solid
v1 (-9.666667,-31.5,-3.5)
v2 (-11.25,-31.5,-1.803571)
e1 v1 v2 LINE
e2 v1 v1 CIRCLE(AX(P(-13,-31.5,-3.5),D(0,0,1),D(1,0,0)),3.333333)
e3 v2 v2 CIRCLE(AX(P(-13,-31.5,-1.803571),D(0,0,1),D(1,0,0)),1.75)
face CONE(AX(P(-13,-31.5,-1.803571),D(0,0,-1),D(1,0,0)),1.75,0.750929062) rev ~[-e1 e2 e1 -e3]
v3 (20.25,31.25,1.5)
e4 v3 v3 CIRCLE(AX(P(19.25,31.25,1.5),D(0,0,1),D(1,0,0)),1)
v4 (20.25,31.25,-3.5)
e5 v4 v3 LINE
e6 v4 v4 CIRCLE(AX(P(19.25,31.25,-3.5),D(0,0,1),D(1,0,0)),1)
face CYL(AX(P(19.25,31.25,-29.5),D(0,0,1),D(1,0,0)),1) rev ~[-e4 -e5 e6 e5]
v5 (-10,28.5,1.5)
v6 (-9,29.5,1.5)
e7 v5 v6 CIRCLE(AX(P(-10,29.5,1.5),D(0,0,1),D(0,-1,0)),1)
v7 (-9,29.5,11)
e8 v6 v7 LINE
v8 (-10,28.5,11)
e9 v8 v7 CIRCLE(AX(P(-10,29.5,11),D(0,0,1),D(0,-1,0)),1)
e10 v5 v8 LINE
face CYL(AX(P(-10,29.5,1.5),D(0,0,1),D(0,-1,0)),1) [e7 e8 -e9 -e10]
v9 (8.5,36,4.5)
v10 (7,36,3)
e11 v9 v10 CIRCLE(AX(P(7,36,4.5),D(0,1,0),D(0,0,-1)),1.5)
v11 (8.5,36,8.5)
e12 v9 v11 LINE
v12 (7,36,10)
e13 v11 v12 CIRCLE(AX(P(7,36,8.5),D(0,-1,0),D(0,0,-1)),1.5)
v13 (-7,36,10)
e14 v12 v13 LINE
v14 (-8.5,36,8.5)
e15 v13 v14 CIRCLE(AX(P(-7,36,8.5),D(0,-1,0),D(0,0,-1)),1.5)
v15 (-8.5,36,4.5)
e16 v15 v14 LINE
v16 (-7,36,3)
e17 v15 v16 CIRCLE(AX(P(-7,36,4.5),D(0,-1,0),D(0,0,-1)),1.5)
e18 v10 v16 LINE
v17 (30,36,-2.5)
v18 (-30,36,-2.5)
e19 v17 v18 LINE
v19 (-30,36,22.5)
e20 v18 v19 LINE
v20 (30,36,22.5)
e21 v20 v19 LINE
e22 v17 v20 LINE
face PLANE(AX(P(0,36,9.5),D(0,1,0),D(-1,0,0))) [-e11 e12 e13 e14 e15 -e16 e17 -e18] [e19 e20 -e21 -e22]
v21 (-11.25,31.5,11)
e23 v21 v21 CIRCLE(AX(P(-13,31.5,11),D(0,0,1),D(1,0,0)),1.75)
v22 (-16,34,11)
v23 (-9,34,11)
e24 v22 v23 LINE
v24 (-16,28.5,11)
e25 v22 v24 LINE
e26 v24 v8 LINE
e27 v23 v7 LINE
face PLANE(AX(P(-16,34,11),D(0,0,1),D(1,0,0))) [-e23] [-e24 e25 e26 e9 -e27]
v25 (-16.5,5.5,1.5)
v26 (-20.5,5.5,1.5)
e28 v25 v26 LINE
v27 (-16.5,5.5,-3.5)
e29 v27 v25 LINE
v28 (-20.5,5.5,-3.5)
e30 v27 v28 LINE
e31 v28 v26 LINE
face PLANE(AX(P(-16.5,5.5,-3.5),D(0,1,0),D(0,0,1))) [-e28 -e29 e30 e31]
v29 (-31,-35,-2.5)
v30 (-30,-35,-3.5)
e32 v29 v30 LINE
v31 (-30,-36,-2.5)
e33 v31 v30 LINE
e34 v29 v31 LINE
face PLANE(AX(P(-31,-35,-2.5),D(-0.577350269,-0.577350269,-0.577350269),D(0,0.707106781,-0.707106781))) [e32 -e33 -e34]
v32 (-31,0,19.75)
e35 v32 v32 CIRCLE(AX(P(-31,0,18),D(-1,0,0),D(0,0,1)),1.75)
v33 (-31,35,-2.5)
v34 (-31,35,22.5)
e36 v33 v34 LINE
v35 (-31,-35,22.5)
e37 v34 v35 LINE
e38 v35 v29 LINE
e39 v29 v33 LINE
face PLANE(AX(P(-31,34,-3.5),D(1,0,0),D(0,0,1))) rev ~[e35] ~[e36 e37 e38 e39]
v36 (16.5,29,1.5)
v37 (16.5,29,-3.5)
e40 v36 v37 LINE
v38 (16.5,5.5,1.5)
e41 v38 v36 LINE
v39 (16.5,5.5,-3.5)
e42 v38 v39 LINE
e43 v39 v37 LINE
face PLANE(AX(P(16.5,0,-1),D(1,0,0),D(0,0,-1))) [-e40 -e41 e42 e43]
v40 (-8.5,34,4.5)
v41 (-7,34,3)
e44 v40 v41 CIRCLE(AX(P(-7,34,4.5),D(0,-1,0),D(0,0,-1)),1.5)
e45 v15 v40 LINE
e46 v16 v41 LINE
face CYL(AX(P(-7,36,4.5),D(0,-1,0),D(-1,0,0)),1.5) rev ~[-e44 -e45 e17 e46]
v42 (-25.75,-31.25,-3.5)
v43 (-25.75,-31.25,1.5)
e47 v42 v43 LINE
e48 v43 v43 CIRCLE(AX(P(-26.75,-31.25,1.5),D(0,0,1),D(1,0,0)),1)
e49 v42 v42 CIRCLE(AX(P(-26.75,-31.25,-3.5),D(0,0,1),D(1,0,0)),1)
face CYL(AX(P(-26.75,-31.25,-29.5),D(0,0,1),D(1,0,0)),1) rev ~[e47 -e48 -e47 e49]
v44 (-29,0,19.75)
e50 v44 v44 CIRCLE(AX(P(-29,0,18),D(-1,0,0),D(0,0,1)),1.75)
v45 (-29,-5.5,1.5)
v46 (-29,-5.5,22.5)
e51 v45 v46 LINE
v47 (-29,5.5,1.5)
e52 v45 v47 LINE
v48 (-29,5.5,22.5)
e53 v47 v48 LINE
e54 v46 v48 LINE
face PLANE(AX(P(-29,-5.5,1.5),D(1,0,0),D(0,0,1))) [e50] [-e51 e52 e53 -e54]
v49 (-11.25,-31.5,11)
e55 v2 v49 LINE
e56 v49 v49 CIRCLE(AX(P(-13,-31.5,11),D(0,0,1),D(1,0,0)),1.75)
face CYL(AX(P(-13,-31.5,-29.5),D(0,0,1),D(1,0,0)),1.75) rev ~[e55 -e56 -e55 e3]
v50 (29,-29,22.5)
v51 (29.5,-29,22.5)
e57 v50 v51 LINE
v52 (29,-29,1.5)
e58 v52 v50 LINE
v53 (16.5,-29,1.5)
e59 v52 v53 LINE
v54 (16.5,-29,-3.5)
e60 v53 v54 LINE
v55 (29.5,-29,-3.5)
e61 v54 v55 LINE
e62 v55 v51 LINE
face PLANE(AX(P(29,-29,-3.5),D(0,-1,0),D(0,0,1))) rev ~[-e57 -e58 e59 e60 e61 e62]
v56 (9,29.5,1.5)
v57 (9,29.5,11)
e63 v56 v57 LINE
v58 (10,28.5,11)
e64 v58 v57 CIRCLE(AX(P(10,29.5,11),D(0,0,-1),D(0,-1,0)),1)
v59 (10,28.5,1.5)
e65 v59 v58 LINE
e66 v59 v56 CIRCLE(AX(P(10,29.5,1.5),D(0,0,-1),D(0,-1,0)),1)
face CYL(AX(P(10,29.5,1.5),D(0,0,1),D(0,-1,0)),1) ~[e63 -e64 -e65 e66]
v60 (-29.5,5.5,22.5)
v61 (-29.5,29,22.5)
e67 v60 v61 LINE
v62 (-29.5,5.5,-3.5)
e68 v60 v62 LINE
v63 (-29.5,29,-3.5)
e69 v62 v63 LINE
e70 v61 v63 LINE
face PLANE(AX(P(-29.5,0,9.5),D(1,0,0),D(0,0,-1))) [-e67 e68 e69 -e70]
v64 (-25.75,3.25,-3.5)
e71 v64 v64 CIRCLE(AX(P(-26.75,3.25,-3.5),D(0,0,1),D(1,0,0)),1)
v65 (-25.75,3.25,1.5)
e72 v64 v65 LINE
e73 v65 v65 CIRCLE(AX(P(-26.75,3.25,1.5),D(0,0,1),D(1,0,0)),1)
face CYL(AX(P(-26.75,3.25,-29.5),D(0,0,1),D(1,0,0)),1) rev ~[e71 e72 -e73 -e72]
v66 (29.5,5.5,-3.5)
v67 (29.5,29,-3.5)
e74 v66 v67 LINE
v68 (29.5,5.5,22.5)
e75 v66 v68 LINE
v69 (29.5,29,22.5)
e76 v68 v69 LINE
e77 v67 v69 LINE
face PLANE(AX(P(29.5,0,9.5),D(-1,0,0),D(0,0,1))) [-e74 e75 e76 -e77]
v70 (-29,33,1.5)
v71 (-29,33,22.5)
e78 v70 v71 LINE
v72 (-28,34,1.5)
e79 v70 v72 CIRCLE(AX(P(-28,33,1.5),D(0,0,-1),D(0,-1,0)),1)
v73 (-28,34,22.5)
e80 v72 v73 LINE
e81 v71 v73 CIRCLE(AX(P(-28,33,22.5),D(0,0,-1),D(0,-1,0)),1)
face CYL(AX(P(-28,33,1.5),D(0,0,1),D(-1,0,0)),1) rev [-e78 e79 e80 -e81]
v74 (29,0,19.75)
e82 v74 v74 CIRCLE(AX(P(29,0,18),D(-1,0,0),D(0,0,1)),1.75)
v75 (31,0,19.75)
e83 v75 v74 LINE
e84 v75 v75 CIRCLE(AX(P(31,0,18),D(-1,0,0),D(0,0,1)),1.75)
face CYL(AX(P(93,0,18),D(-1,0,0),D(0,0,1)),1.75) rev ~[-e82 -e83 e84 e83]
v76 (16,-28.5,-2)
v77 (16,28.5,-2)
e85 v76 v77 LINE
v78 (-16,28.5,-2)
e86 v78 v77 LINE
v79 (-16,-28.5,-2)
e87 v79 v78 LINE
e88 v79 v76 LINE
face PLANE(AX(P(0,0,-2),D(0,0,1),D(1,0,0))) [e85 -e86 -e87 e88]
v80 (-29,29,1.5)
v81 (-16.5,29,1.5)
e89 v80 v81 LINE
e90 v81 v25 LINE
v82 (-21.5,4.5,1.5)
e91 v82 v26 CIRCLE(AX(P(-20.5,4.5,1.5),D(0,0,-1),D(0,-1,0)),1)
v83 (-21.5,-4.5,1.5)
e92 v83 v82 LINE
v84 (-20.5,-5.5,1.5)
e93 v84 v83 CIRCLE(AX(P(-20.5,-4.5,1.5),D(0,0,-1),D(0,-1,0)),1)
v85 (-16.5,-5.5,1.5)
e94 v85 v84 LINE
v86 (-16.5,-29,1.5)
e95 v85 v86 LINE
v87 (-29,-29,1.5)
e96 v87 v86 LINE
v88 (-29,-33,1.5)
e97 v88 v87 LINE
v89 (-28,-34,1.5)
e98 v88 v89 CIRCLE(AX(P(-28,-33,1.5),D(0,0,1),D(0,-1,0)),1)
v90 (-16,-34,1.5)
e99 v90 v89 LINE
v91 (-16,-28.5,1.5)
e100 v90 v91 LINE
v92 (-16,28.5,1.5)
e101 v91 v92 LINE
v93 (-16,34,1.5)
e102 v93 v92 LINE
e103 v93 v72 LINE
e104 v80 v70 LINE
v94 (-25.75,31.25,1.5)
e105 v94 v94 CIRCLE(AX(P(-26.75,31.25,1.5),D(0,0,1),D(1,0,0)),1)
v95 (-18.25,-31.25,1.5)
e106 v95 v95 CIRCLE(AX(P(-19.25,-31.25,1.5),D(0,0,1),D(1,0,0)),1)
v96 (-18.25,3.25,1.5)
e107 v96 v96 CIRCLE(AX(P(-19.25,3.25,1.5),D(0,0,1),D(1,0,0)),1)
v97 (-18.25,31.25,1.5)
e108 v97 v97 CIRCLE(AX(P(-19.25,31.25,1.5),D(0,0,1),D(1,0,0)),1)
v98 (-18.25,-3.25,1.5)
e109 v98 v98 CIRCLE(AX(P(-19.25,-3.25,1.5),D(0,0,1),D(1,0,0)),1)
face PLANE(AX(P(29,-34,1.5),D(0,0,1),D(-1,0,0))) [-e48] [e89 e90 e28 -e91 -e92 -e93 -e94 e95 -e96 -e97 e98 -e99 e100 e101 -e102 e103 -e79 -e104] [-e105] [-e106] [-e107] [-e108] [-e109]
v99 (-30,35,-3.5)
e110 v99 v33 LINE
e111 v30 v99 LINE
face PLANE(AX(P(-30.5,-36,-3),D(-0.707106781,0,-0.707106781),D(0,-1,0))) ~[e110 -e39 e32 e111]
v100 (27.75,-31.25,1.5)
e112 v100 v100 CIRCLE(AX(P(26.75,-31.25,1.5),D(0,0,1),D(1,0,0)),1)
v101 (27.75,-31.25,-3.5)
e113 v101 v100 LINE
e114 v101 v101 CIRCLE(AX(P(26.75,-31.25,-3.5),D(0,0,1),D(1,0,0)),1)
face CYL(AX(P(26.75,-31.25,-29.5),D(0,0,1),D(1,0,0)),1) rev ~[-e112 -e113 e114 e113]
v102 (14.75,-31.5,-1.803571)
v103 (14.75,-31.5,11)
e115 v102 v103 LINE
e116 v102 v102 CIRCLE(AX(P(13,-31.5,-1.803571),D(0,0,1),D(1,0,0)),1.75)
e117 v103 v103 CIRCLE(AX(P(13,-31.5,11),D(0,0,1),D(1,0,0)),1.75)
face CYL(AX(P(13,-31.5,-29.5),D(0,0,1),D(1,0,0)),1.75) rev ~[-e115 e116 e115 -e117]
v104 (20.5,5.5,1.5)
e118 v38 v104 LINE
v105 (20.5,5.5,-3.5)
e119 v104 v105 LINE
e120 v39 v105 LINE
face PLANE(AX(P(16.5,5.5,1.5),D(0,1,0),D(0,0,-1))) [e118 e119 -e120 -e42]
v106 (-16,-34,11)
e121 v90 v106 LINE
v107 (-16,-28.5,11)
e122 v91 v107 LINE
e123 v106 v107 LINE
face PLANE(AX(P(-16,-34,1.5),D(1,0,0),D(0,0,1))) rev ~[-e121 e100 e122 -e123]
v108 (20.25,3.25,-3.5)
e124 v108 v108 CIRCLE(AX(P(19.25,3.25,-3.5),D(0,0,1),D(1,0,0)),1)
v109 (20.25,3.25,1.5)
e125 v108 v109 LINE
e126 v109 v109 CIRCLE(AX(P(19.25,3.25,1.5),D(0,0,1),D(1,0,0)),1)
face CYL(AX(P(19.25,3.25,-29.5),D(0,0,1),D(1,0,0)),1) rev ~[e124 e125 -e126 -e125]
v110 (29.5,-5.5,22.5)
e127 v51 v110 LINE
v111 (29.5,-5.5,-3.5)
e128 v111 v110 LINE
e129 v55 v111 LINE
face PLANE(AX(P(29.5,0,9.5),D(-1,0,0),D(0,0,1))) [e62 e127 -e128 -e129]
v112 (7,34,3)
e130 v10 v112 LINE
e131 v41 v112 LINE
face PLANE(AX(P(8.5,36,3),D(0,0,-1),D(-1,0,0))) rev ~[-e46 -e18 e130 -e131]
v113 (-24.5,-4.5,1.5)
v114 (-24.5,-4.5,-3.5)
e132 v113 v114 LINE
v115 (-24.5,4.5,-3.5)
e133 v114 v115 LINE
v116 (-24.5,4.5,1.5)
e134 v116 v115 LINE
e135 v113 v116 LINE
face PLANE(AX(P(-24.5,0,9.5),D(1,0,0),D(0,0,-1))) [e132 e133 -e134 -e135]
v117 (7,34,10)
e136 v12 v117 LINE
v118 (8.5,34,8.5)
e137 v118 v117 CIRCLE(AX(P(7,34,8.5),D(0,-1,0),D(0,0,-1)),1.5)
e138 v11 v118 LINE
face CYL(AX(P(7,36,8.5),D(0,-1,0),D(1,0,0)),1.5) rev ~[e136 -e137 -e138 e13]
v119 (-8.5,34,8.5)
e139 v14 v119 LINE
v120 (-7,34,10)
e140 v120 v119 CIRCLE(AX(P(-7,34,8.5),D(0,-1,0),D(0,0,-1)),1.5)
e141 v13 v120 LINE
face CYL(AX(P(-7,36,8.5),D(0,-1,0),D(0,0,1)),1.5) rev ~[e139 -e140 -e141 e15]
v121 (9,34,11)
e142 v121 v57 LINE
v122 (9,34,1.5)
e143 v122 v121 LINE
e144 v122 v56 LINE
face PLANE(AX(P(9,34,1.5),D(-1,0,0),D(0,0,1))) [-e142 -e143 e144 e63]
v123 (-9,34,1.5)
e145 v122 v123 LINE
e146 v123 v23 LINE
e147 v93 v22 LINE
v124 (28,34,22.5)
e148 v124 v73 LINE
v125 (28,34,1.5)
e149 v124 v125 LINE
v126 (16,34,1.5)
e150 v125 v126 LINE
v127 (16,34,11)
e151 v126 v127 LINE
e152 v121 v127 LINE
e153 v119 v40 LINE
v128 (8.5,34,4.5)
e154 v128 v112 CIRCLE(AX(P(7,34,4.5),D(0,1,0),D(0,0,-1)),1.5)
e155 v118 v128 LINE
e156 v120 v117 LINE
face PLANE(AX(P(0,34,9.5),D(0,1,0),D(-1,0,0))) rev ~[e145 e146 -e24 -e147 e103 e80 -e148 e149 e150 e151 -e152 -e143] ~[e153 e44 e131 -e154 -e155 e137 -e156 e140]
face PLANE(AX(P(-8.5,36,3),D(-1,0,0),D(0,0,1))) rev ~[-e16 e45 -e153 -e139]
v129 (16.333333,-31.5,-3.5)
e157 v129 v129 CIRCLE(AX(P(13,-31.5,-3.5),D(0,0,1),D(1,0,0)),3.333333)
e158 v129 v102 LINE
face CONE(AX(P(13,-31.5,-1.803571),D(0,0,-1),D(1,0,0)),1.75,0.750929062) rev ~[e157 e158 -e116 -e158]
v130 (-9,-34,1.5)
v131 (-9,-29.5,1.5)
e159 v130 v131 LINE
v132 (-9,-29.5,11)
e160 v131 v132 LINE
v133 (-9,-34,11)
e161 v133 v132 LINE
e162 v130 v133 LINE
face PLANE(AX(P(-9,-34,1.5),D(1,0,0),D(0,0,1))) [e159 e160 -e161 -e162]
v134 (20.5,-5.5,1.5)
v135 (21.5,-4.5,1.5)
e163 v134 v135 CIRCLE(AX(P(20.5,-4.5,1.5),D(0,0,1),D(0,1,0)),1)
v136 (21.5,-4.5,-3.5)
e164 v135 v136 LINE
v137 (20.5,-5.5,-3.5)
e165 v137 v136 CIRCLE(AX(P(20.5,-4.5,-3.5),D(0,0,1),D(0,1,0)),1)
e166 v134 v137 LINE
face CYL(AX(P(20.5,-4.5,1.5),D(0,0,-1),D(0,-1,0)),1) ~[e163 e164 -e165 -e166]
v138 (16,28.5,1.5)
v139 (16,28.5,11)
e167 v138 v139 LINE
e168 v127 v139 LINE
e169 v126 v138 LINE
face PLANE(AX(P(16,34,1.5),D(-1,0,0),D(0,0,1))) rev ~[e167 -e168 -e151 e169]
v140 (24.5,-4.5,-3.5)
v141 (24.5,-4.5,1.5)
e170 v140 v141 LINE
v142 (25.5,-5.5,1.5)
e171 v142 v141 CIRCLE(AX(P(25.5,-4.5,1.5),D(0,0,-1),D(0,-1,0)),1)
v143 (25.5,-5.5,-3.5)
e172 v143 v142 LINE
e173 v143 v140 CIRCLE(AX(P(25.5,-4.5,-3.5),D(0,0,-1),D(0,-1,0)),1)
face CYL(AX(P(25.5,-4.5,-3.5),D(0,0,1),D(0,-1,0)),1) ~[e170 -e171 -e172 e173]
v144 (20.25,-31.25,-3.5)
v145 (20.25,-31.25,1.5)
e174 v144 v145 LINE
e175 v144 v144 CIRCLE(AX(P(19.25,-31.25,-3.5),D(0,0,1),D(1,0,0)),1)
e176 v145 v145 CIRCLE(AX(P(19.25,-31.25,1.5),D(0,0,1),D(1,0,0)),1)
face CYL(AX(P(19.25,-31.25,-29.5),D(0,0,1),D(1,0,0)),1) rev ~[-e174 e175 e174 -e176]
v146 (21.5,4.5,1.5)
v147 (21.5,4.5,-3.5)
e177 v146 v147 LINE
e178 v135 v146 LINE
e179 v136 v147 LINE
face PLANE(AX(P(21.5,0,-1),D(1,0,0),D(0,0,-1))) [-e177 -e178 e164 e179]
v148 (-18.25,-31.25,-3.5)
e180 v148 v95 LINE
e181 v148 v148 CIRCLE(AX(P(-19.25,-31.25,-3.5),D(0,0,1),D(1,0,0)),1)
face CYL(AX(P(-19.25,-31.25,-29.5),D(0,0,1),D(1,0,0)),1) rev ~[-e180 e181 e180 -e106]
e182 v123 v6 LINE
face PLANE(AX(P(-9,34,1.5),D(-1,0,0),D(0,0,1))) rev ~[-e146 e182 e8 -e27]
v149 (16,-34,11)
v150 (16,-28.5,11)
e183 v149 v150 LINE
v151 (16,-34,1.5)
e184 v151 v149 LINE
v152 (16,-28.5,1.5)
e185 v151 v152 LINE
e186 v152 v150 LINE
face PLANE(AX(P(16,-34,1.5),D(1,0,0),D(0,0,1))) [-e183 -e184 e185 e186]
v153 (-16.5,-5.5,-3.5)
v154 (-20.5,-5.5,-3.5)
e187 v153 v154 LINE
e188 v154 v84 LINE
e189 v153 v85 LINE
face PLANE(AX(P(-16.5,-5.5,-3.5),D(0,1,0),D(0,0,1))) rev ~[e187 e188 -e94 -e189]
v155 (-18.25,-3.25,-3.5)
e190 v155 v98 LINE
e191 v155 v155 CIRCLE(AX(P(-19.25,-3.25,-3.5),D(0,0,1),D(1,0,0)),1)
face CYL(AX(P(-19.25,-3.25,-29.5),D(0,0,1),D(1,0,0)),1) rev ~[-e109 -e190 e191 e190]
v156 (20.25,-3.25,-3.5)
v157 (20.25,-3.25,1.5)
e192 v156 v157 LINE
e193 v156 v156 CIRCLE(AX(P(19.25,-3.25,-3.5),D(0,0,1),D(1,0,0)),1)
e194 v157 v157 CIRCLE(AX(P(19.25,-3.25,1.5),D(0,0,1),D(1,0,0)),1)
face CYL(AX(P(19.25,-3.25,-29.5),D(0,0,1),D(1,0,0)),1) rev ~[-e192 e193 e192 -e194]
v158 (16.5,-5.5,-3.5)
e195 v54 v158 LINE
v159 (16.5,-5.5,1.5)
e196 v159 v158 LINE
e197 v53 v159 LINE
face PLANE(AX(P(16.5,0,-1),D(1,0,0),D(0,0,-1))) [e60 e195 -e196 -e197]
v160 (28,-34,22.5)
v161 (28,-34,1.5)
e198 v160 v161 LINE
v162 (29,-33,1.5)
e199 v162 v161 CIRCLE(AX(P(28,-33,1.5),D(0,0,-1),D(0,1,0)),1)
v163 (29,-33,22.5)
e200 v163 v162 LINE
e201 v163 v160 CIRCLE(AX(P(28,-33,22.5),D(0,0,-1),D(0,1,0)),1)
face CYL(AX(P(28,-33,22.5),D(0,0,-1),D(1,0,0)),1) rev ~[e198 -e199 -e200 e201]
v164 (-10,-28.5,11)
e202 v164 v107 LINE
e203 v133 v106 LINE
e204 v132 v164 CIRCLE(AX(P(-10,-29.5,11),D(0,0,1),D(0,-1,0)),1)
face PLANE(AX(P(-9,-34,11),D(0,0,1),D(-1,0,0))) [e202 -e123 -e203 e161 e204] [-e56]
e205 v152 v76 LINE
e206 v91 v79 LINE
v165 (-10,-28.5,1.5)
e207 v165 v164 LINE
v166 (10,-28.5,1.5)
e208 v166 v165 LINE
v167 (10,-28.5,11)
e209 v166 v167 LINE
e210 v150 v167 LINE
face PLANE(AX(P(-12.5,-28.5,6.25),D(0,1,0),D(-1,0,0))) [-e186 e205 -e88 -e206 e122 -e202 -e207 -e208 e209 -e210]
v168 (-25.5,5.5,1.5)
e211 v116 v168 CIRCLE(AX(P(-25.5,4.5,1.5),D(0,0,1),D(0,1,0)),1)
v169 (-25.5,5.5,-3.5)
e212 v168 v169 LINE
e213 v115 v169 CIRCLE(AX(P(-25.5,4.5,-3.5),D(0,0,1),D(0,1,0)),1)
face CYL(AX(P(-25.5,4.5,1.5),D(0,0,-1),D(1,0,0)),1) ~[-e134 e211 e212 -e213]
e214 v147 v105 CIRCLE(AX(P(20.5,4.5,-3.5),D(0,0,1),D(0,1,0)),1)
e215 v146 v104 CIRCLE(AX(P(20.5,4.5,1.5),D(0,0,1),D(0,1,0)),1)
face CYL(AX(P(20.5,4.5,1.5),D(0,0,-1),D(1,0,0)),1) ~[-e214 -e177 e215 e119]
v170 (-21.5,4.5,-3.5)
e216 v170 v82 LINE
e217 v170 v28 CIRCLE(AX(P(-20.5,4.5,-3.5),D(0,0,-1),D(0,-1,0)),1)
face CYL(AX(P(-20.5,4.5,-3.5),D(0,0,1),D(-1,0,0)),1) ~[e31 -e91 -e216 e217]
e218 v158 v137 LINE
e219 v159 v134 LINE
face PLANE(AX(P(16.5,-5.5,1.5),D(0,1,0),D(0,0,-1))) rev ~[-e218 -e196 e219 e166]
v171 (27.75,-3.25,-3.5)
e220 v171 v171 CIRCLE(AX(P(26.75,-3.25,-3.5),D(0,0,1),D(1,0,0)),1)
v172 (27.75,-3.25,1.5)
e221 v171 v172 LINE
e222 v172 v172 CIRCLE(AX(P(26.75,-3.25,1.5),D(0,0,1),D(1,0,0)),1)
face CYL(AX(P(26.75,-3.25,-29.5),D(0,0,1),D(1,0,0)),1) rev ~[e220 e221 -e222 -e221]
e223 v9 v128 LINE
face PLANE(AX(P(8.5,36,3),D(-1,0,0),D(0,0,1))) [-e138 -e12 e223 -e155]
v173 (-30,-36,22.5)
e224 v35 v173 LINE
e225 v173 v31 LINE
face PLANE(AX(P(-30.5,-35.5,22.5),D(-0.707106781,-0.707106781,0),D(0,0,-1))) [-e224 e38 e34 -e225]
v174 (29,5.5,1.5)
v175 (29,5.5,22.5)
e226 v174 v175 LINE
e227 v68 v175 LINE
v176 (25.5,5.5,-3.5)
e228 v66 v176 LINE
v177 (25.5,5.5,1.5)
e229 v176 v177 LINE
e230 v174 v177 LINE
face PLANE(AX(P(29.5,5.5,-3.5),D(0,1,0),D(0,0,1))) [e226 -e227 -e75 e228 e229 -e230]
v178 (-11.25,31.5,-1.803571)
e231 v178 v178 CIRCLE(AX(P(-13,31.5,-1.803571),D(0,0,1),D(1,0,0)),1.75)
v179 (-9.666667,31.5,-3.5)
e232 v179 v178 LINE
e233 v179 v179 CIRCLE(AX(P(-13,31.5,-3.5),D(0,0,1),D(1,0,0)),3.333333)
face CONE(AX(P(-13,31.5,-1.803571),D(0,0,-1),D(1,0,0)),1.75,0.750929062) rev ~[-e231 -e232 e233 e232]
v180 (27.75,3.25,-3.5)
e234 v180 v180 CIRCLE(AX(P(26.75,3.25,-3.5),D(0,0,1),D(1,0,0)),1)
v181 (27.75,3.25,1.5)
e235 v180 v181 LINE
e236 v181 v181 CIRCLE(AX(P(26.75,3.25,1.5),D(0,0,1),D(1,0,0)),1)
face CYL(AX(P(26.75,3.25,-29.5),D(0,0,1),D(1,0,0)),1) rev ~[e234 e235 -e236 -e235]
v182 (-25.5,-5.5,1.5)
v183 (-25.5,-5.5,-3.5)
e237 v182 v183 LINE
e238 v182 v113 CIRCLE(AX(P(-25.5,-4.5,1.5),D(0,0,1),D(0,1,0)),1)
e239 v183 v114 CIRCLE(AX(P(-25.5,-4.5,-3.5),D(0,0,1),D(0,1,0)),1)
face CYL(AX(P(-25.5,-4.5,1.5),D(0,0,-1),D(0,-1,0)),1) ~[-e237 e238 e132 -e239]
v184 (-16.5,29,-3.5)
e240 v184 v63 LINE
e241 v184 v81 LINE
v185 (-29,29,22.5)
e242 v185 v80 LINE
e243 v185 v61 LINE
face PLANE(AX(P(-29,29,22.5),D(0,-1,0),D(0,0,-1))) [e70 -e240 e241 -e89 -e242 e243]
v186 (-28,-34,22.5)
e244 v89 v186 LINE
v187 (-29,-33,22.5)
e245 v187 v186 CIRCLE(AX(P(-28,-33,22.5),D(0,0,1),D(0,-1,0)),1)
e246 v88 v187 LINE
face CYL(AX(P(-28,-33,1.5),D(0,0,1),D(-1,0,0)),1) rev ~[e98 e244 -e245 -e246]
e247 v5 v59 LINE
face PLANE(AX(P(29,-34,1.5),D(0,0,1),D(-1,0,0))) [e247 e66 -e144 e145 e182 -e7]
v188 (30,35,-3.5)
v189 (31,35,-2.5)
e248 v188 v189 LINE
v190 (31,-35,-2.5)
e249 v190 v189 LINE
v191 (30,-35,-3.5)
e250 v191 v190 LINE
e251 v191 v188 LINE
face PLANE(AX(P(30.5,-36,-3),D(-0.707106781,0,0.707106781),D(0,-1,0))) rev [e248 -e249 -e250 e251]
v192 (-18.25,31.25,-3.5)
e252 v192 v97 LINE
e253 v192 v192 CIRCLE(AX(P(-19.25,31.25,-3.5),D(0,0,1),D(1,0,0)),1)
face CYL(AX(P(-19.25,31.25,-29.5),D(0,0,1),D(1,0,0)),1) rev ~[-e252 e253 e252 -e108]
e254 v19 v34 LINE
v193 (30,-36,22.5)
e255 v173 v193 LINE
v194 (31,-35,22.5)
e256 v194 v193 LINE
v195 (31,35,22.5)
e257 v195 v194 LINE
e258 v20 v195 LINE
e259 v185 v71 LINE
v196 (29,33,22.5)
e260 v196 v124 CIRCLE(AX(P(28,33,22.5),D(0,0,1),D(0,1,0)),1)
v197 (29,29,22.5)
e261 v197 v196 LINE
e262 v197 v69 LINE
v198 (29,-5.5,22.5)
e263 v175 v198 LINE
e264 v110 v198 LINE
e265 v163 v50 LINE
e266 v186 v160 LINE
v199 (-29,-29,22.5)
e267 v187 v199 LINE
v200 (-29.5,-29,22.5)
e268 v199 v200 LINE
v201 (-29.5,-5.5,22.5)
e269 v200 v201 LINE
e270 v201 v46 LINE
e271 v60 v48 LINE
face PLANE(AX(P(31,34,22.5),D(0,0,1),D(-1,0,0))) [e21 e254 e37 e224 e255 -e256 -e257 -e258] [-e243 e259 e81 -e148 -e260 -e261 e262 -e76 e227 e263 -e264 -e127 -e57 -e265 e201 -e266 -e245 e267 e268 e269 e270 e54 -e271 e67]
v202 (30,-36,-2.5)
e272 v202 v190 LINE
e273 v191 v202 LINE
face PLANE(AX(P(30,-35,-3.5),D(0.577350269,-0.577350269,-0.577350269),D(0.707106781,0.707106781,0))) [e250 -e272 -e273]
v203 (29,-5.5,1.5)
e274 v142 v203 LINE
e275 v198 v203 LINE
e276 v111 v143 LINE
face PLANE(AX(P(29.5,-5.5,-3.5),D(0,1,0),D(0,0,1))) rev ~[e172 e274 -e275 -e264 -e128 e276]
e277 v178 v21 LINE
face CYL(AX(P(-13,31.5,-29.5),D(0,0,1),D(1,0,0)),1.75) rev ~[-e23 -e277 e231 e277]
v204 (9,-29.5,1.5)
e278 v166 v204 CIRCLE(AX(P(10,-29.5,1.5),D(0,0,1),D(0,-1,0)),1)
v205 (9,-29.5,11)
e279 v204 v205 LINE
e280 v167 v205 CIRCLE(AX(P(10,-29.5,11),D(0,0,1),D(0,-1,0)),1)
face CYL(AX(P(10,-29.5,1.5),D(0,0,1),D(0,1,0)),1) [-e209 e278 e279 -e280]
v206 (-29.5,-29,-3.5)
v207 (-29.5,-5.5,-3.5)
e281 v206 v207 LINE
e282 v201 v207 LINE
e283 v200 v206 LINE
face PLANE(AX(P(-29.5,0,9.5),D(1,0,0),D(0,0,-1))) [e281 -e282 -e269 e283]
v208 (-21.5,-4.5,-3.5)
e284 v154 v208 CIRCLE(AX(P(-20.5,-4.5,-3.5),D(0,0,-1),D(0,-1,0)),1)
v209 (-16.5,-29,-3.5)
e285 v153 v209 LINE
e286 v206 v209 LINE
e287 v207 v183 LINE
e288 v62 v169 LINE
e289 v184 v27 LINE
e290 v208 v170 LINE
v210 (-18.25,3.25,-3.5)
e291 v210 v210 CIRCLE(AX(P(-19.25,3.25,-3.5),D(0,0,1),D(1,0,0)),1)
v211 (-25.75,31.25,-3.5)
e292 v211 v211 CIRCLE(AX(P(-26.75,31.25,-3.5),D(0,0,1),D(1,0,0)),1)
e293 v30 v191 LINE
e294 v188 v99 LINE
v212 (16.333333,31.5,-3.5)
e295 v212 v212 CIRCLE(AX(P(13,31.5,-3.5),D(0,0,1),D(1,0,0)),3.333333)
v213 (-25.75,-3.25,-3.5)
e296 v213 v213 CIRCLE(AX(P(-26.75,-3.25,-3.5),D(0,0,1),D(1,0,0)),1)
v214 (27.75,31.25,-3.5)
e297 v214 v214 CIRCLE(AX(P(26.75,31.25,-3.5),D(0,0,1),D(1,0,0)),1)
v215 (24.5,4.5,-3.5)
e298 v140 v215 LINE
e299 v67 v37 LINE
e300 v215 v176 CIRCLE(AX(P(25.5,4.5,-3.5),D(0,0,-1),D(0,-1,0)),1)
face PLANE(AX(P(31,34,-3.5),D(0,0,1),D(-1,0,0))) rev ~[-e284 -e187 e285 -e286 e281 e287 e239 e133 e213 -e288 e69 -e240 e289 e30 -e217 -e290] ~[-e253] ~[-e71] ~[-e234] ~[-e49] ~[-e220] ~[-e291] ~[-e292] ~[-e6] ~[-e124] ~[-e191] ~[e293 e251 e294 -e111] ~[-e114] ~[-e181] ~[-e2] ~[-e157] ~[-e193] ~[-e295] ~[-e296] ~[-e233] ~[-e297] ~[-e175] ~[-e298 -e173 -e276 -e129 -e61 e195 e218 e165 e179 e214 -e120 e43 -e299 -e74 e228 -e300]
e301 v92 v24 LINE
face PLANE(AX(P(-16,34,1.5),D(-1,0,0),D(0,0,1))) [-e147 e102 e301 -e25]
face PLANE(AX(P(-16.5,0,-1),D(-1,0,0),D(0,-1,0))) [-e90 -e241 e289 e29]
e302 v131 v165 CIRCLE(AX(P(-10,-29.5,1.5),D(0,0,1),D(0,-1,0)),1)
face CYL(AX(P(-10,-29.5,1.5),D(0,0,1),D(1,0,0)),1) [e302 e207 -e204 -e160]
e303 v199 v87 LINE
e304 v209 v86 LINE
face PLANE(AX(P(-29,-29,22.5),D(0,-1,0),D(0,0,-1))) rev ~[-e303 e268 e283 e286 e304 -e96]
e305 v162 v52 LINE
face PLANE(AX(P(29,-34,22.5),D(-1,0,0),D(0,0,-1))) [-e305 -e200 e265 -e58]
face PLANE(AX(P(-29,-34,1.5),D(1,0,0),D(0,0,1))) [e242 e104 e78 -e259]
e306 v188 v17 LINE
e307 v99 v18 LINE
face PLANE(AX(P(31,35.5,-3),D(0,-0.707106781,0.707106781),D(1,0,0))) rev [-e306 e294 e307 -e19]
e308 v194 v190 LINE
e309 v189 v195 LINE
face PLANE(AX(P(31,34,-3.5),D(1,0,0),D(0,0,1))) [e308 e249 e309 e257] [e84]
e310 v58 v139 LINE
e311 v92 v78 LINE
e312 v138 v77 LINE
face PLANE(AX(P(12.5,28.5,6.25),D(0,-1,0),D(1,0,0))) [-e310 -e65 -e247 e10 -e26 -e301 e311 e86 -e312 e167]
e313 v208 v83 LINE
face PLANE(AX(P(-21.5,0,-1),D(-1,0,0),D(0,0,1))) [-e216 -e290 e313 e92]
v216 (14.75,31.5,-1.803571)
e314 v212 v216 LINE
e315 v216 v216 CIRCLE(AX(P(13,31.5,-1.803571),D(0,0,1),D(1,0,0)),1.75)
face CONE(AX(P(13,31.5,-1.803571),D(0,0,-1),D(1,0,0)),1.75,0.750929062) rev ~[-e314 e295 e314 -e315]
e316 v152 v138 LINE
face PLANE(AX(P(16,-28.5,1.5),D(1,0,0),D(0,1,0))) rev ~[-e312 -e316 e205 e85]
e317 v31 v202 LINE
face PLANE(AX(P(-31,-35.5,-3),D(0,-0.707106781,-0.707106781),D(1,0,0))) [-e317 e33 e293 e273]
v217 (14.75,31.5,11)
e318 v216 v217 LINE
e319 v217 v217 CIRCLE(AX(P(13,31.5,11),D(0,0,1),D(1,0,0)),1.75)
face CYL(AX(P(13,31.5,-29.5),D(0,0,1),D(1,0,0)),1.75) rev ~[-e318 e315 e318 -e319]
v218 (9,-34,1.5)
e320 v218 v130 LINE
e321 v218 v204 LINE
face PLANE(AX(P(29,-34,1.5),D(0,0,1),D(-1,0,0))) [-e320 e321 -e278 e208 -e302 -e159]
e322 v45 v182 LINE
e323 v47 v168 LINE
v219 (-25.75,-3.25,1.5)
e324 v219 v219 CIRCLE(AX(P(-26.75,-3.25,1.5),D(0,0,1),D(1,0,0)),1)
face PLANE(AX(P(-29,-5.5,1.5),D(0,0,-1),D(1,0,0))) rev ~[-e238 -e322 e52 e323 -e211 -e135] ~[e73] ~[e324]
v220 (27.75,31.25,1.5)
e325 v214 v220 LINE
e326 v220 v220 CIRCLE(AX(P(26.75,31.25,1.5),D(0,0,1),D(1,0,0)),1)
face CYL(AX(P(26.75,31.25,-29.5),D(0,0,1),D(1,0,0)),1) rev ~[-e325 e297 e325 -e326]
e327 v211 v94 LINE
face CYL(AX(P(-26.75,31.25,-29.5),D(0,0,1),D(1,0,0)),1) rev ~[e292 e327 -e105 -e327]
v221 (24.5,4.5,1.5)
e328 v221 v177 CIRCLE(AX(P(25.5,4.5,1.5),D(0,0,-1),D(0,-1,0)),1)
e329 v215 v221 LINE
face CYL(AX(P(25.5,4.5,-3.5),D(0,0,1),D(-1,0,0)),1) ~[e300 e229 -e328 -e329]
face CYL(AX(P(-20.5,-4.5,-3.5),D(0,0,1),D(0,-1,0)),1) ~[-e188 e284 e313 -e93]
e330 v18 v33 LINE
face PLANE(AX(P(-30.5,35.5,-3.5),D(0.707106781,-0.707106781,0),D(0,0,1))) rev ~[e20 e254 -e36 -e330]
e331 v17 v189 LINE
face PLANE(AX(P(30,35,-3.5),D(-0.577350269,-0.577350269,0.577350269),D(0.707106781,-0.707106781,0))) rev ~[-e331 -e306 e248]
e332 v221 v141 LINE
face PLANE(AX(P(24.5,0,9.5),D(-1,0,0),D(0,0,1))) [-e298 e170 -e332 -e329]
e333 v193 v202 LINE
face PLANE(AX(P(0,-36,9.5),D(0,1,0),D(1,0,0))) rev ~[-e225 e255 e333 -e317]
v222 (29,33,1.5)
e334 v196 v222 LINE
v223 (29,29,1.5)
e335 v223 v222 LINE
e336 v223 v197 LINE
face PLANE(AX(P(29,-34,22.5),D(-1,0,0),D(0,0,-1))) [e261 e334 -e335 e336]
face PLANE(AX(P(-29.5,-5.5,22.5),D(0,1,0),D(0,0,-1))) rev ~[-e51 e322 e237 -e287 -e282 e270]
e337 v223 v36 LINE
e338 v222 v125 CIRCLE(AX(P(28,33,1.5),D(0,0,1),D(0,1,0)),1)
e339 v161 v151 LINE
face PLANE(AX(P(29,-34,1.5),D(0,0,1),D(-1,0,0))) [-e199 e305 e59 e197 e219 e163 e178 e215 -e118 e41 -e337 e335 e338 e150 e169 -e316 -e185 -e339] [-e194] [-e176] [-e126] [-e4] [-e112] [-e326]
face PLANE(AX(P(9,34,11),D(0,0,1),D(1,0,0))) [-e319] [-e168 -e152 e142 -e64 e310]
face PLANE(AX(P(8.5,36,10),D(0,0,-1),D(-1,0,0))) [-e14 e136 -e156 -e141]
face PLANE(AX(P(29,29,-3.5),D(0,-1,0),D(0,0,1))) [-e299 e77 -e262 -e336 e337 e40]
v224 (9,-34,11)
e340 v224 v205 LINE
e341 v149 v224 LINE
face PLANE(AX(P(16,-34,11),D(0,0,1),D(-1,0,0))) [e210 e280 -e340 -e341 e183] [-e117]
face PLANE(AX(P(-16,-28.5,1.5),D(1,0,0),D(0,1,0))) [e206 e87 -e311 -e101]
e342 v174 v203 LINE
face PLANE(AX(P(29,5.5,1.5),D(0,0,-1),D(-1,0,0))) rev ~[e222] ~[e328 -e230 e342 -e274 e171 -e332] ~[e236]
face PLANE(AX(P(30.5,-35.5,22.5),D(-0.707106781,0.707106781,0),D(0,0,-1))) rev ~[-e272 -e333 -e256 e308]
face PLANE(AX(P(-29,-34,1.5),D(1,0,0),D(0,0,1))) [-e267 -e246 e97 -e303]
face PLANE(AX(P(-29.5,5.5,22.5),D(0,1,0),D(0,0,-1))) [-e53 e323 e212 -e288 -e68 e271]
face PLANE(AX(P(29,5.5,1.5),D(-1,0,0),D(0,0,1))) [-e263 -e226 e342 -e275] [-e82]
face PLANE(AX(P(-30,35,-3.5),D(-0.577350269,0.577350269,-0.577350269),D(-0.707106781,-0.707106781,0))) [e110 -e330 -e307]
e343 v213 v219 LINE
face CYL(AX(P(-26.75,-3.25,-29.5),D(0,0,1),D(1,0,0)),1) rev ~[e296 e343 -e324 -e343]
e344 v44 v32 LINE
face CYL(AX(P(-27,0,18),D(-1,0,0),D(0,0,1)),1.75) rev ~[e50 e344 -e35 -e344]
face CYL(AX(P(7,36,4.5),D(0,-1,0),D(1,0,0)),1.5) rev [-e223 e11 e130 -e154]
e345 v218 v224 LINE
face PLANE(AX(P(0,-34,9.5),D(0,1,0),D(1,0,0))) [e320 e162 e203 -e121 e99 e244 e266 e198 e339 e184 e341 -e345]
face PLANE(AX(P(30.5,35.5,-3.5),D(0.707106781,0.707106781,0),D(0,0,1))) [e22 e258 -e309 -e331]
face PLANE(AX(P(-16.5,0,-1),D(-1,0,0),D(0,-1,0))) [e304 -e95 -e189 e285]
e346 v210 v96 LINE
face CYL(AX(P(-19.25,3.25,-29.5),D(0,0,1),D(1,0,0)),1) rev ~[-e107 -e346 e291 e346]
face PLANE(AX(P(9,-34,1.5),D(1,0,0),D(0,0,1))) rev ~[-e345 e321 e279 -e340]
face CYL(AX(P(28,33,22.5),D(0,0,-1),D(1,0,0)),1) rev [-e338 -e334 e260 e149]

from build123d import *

# Parameters (mm, degrees)
SKETCH1_W                      = 62
SKETCH1_H                      = 26
BOSS_EXTRUDE1_DEPTH            = 2
BOSS_EXTRUDE2_DEPTH            = 68
SKETCH3_W                      = 62
SKETCH3_H                      = 26
BOSS_EXTRUDE3_DEPTH            = 2
SKETCH4_W                      = 5
SKETCH4_H                      = 58
CUT_EXTRUDE1_DEPTH             = 12.5
SKETCH5_W                      = 26
SKETCH5_H                      = 58
CUT_EXTRUDE2_DEPTH             = 0.5
SKETCH6_W                      = 58
SKETCH6_H                      = 5
CUT_EXTRUDE3_DEPTH             = 12.5
SKETCH7_W                      = 26
SKETCH7_H                      = 58
CUT_EXTRUDE4_DEPTH             = 0.5
SKETCH8_W                      = 5
SKETCH8_H                      = 11
BOSS_EXTRUDE4_DEPTH            = 5
SKETCH9_W                      = 26
SKETCH9_H                      = 11
BOSS_EXTRUDE5_DEPTH            = 5
SKETCH10_W                     = 5
SKETCH10_H                     = 11
BOSS_EXTRUDE6_DEPTH            = 5
SKETCH11_W                     = 26
SKETCH11_H                     = 11
BOSS_EXTRUDE7_DEPTH            = 5
SKETCH12_W                     = 7
SKETCH12_H                     = 9.5
BOSS_EXTRUDE8_DEPTH            = 5.5
SKETCH13_W                     = 7
SKETCH13_H                     = 9.5
BOSS_EXTRUDE9_DEPTH            = 5.5
SKETCH14_W                     = 32
SKETCH14_H                     = 57
CUT_EXTRUDE5_DEPTH             = 3.5
SKETCH15_W                     = 7
SKETCH15_H                     = 9.5
BOSS_EXTRUDE10_DEPTH           = 5.5
SKETCH16_W                     = 7
SKETCH16_H                     = 9.5
BOSS_EXTRUDE11_DEPTH           = 5.5
CUT_EXTRUDE6_REACH             = 58.476
SKETCH17_W                     = 4.5
SKETCH17_H                     = 21
CUT_EXTRUDE7_REACH             = 58.476
SKETCH18_W                     = 4.5
SKETCH18_H                     = 21
CUT_EXTRUDE8_REACH             = 83.555
SKETCH19_W                     = 17
SKETCH19_H                     = 7
F_2_0_2_DIAMETER_HOLE1_D       = 2
F_2_0_2_DIAMETER_HOLE1_DEPTH   = 26
F_3_5_3_5_DIAMETER_HOLE1_D     = 3.5
F_3_5_3_5_DIAMETER_HOLE1_DEPTH = 26
F_3_5_3_5_DIAMETER_HOLE2_D     = 3.5
F_3_5_3_5_DIAMETER_HOLE2_DEPTH = 2
F_3_5_3_5_DIAMETER_HOLE3_D     = 3.5
F_3_5_3_5_DIAMETER_HOLE3_DEPTH = 62
CHAMFER1_SIZE                  = 1.583333333
CHAMFER1_SIZE2                 = 1.696428571
CHAMFER2_SIZE                  = 1
FILLET1_R                      = 1
FILLET2_R                      = 1.5


with BuildPart() as part:
    # Sketch1 → Boss-Extrude1 (new body)
    with BuildSketch(Plane(origin=(0, -34, 0), x_dir=(1, 0, 0), z_dir=(0, 1, 0))):
        with Locations((0, -9.5)):
            Rectangle(SKETCH1_W, SKETCH1_H)
    extrude(amount=-BOSS_EXTRUDE1_DEPTH)

    # Sketch2 → Boss-Extrude2 (add)
    with BuildSketch(Plane(origin=(0, -34, 0), x_dir=(-1, 0, 0), z_dir=(0, 1, 0))):
        Polygon((-29, 22.5), (-29, 1.5), (29, 1.5), (29, 22.5), (31, 22.5), (31, -3.5), (-31, -3.5), (-31, 22.5), align=None)
    extrude(amount=BOSS_EXTRUDE2_DEPTH)

    # Sketch3 → Boss-Extrude3 (add)
    with BuildSketch(Plane(origin=(0, 34, 0), x_dir=(-1, 0, 0), z_dir=(0, 1, 0))):
        with Locations((0, 9.5)):
            Rectangle(SKETCH3_W, SKETCH3_H)
    extrude(amount=BOSS_EXTRUDE3_DEPTH)

    # Sketch4 → Cut-Extrude1 (cut)
    with BuildSketch(Plane(origin=(29, 0, 0), x_dir=(0, 0, -1), z_dir=(1, 0, 0))):
        with Locations((1, 0)):
            Rectangle(SKETCH4_W, SKETCH4_H)
    extrude(amount=-CUT_EXTRUDE1_DEPTH, mode=Mode.SUBTRACT)

    # Sketch5 → Cut-Extrude2 (cut)
    with BuildSketch(Plane.ZY.offset(-29)):
        with Locations((9.5, 0)):
            Rectangle(SKETCH5_W, SKETCH5_H)
    extrude(amount=-CUT_EXTRUDE2_DEPTH, mode=Mode.SUBTRACT)

    # Sketch6 → Cut-Extrude3 (cut)
    with BuildSketch(Plane(origin=(-29, 0, 0), x_dir=(0, -1, 0), z_dir=(-1, 0, 0))):
        with Locations((0, -1)):
            Rectangle(SKETCH6_W, SKETCH6_H)
    extrude(amount=-CUT_EXTRUDE3_DEPTH, mode=Mode.SUBTRACT)

    # Sketch7 → Cut-Extrude4 (cut)
    with BuildSketch(Plane(origin=(-29, 0, 0), x_dir=(0, 0, -1), z_dir=(1, 0, 0))):
        with Locations((-9.5, 0)):
            Rectangle(SKETCH7_W, SKETCH7_H)
    extrude(amount=-CUT_EXTRUDE4_DEPTH, mode=Mode.SUBTRACT)

    # Sketch8 → Boss-Extrude4 (add)
    with BuildSketch(Plane.ZY.offset(16.5)):
        with Locations((-1, 0)):
            Rectangle(SKETCH8_W, SKETCH8_H)
    extrude(amount=BOSS_EXTRUDE4_DEPTH)

    # Sketch9 → Boss-Extrude5 (add)
    with BuildSketch(Plane.ZY.offset(-29.5)):
        with Locations((9.5, 0)):
            Rectangle(SKETCH9_W, SKETCH9_H)
    extrude(amount=BOSS_EXTRUDE5_DEPTH)

    # Sketch10 → Boss-Extrude6 (add)
    with BuildSketch(Plane(origin=(16.5, 0, 0), x_dir=(0, 0, -1), z_dir=(1, 0, 0))):
        with Locations((1, 0)):
            Rectangle(SKETCH10_W, SKETCH10_H)
    extrude(amount=BOSS_EXTRUDE6_DEPTH)

    # Sketch11 → Boss-Extrude7 (add)
    with BuildSketch(Plane(origin=(-29.5, 0, 0), x_dir=(0, 0, -1), z_dir=(1, 0, 0))):
        with Locations((-9.5, 0)):
            Rectangle(SKETCH11_W, SKETCH11_H)
    extrude(amount=BOSS_EXTRUDE7_DEPTH)

    # Sketch12 → Boss-Extrude8 (add)
    with BuildSketch(Plane.XZ.offset(-34)):
        with Locations((-12.5, 6.25)):
            Rectangle(SKETCH12_W, SKETCH12_H)
    extrude(amount=BOSS_EXTRUDE8_DEPTH)

    # Sketch13 → Boss-Extrude9 (add)
    with BuildSketch(Plane(origin=(0, -34, 0), x_dir=(-1, 0, 0), z_dir=(0, 1, 0))):
        with Locations((-12.5, 6.25)):
            Rectangle(SKETCH13_W, SKETCH13_H)
    extrude(amount=BOSS_EXTRUDE9_DEPTH)

    # Sketch14 → Cut-Extrude5 (cut)
    with BuildSketch(Plane.XY.offset(1.5)):
        Rectangle(SKETCH14_W, SKETCH14_H)
    extrude(amount=-CUT_EXTRUDE5_DEPTH, mode=Mode.SUBTRACT)

    # Sketch15 → Boss-Extrude10 (add)
    with BuildSketch(Plane(origin=(0, -34, 0), x_dir=(-1, 0, 0), z_dir=(0, 1, 0))):
        with Locations((12.5, 6.25)):
            Rectangle(SKETCH15_W, SKETCH15_H)
    extrude(amount=BOSS_EXTRUDE10_DEPTH)

    # Sketch16 → Boss-Extrude11 (add)
    with BuildSketch(Plane.XZ.offset(-34)):
        with Locations((12.5, 6.25)):
            Rectangle(SKETCH16_W, SKETCH16_H)
    extrude(amount=BOSS_EXTRUDE11_DEPTH)

    # Sketch17 → Cut-Extrude6 (cut, up to next)
    with BuildSketch(Plane(origin=(0, 5.5, 0), x_dir=(-1, 0, 0), z_dir=(0, 1, 0)), mode=Mode.PRIVATE) as cut_extrude6_sk1:
        with Locations((-26.75, 12)):
            Rectangle(SKETCH17_W, SKETCH17_H)
    cut_extrude6_tool1 = extrude(cut_extrude6_sk1.sketch, amount=-CUT_EXTRUDE6_REACH, mode=Mode.PRIVATE) & part.part
    add(cut_extrude6_tool1.solids().sort_by_distance((26.75, 5.5, 12))[0], mode=Mode.SUBTRACT)

    # Sketch18 → Cut-Extrude7 (cut, up to next)
    with BuildSketch(Plane.XZ.offset(5.5), mode=Mode.PRIVATE) as cut_extrude7_sk1:
        with Locations((-26.75, 12)):
            Rectangle(SKETCH18_W, SKETCH18_H)
    cut_extrude7_tool1 = extrude(cut_extrude7_sk1.sketch, amount=-CUT_EXTRUDE7_REACH, mode=Mode.PRIVATE) & part.part
    add(cut_extrude7_tool1.solids().sort_by_distance((-26.75, -5.5, 12))[0], mode=Mode.SUBTRACT)

    # Sketch19 → Cut-Extrude8 (cut, up to next)
    with BuildSketch(Plane(origin=(0, 36, 0), x_dir=(-1, 0, 0), z_dir=(0, 1, 0)), mode=Mode.PRIVATE) as cut_extrude8_sk1:
        with Locations((0, 6.5)):
            Rectangle(SKETCH19_W, SKETCH19_H)
    cut_extrude8_tool1 = extrude(cut_extrude8_sk1.sketch, amount=-CUT_EXTRUDE8_REACH, mode=Mode.PRIVATE) & part.part
    add(cut_extrude8_tool1.solids().sort_by_distance((0, 36, 6.5))[0], mode=Mode.SUBTRACT)

    # Ø2.0 (2) Diameter Hole1
    with Locations(Plane(origin=(0, 0, -3.5), x_dir=(-1, 0, 0), z_dir=(0, 0, -1))):
        with Locations((-19.25, 3.25), (-19.25, -3.25), (19.25, 3.25), (19.25, -3.25), (-19.25, 31.25), (-26.75, 31.25), (-26.75, 3.25), (-26.75, -3.25), (19.25, -31.25), (-26.75, -31.25), (-19.25, -31.25), (26.75, -31.25), (26.75, -3.25), (26.75, 3.25), (26.75, 31.25), (19.25, 31.25)):
            Hole(F_2_0_2_DIAMETER_HOLE1_D / 2, depth=F_2_0_2_DIAMETER_HOLE1_DEPTH)

    # Ø3.5 (3.5) Diameter Hole1
    with Locations(Plane(origin=(0, 0, -3.5), x_dir=(-1, 0, 0), z_dir=(0, 0, -1))):
        with Locations((-13, 31.5), (13, 31.5), (-13, -31.5), (13, -31.5)):
            Hole(F_3_5_3_5_DIAMETER_HOLE1_D / 2, depth=F_3_5_3_5_DIAMETER_HOLE1_DEPTH)

    # Ø3.5 (3.5) Diameter Hole2
    with Locations(Plane(origin=(-29, 0, 0), x_dir=(0, 0, -1), z_dir=(1, 0, 0))):
        with Locations((-18, 0)):
            Hole(F_3_5_3_5_DIAMETER_HOLE2_D / 2, depth=F_3_5_3_5_DIAMETER_HOLE2_DEPTH)

    # Ø3.5 (3.5) Diameter Hole3
    with Locations(Plane(origin=(31, 0, 0), x_dir=(0, 0, -1), z_dir=(1, 0, 0))):
        with Locations((-18, 0)):
            Hole(F_3_5_3_5_DIAMETER_HOLE3_D / 2, depth=F_3_5_3_5_DIAMETER_HOLE3_DEPTH)

    # Chamfer1
    chamfer1_edges = [part.edges().sort_by_distance(p)[0] for p in [
        (-14.75, -31.5, -3.5),
        (11.25, -31.5, -3.5),
        (-14.75, 31.5, -3.5),
        (11.25, 31.5, -3.5),
    ]]
    chamfer1_side = [part.faces().sort_by_distance(p)[0] for p in [
        (0, 0, -3.5),
    ]]
    chamfer(chamfer1_edges, length=CHAMFER1_SIZE, length2=CHAMFER1_SIZE2, reference=chamfer1_side[0])

    # Chamfer2
    chamfer2_edges = [part.edges().sort_by_distance(p)[0] for p in [
        (31, -36, 9.5),
        (0, -36, -3.5),
        (-31, 36, 9.5),
        (31, 36, 9.5),
        (0, 36, -3.5),
        (-31, -36, 9.5),
        (-31, 0, -3.5),
        (31, 0, -3.5),
    ]]
    chamfer(chamfer2_edges, length=CHAMFER2_SIZE)

    # Fillet1
    fillet1_edges = [part.edges().sort_by_distance(p)[0] for p in [
        (-21.5, 5.5, -1),
        (-21.5, -5.5, -1),
        (24.5, -5.5, -1),
        (21.5, 5.5, -1),
        (21.5, -5.5, -1),
        (-24.5, 5.5, -1),
        (-29, -34, 12),
        (-9, 28.5, 6.25),
        (29, -34, 12),
        (9, -28.5, 6.25),
        (-29, 34, 12),
        (29, 34, 12),
        (-9, -28.5, 6.25),
        (9, 28.5, 6.25),
        (24.5, 5.5, -1),
        (-24.5, -5.5, -1),
    ]]
    fillet(fillet1_edges, radius=FILLET1_R)

    # Fillet2
    fillet2_edges = [part.edges().sort_by_distance(p)[0] for p in [
        (8.5, 35, 3),
        (8.5, 35, 10),
        (-8.5, 35, 10),
        (-8.5, 35, 3),
    ]]
    fillet(fillet2_edges, radius=FILLET2_R)


solid = part.part
